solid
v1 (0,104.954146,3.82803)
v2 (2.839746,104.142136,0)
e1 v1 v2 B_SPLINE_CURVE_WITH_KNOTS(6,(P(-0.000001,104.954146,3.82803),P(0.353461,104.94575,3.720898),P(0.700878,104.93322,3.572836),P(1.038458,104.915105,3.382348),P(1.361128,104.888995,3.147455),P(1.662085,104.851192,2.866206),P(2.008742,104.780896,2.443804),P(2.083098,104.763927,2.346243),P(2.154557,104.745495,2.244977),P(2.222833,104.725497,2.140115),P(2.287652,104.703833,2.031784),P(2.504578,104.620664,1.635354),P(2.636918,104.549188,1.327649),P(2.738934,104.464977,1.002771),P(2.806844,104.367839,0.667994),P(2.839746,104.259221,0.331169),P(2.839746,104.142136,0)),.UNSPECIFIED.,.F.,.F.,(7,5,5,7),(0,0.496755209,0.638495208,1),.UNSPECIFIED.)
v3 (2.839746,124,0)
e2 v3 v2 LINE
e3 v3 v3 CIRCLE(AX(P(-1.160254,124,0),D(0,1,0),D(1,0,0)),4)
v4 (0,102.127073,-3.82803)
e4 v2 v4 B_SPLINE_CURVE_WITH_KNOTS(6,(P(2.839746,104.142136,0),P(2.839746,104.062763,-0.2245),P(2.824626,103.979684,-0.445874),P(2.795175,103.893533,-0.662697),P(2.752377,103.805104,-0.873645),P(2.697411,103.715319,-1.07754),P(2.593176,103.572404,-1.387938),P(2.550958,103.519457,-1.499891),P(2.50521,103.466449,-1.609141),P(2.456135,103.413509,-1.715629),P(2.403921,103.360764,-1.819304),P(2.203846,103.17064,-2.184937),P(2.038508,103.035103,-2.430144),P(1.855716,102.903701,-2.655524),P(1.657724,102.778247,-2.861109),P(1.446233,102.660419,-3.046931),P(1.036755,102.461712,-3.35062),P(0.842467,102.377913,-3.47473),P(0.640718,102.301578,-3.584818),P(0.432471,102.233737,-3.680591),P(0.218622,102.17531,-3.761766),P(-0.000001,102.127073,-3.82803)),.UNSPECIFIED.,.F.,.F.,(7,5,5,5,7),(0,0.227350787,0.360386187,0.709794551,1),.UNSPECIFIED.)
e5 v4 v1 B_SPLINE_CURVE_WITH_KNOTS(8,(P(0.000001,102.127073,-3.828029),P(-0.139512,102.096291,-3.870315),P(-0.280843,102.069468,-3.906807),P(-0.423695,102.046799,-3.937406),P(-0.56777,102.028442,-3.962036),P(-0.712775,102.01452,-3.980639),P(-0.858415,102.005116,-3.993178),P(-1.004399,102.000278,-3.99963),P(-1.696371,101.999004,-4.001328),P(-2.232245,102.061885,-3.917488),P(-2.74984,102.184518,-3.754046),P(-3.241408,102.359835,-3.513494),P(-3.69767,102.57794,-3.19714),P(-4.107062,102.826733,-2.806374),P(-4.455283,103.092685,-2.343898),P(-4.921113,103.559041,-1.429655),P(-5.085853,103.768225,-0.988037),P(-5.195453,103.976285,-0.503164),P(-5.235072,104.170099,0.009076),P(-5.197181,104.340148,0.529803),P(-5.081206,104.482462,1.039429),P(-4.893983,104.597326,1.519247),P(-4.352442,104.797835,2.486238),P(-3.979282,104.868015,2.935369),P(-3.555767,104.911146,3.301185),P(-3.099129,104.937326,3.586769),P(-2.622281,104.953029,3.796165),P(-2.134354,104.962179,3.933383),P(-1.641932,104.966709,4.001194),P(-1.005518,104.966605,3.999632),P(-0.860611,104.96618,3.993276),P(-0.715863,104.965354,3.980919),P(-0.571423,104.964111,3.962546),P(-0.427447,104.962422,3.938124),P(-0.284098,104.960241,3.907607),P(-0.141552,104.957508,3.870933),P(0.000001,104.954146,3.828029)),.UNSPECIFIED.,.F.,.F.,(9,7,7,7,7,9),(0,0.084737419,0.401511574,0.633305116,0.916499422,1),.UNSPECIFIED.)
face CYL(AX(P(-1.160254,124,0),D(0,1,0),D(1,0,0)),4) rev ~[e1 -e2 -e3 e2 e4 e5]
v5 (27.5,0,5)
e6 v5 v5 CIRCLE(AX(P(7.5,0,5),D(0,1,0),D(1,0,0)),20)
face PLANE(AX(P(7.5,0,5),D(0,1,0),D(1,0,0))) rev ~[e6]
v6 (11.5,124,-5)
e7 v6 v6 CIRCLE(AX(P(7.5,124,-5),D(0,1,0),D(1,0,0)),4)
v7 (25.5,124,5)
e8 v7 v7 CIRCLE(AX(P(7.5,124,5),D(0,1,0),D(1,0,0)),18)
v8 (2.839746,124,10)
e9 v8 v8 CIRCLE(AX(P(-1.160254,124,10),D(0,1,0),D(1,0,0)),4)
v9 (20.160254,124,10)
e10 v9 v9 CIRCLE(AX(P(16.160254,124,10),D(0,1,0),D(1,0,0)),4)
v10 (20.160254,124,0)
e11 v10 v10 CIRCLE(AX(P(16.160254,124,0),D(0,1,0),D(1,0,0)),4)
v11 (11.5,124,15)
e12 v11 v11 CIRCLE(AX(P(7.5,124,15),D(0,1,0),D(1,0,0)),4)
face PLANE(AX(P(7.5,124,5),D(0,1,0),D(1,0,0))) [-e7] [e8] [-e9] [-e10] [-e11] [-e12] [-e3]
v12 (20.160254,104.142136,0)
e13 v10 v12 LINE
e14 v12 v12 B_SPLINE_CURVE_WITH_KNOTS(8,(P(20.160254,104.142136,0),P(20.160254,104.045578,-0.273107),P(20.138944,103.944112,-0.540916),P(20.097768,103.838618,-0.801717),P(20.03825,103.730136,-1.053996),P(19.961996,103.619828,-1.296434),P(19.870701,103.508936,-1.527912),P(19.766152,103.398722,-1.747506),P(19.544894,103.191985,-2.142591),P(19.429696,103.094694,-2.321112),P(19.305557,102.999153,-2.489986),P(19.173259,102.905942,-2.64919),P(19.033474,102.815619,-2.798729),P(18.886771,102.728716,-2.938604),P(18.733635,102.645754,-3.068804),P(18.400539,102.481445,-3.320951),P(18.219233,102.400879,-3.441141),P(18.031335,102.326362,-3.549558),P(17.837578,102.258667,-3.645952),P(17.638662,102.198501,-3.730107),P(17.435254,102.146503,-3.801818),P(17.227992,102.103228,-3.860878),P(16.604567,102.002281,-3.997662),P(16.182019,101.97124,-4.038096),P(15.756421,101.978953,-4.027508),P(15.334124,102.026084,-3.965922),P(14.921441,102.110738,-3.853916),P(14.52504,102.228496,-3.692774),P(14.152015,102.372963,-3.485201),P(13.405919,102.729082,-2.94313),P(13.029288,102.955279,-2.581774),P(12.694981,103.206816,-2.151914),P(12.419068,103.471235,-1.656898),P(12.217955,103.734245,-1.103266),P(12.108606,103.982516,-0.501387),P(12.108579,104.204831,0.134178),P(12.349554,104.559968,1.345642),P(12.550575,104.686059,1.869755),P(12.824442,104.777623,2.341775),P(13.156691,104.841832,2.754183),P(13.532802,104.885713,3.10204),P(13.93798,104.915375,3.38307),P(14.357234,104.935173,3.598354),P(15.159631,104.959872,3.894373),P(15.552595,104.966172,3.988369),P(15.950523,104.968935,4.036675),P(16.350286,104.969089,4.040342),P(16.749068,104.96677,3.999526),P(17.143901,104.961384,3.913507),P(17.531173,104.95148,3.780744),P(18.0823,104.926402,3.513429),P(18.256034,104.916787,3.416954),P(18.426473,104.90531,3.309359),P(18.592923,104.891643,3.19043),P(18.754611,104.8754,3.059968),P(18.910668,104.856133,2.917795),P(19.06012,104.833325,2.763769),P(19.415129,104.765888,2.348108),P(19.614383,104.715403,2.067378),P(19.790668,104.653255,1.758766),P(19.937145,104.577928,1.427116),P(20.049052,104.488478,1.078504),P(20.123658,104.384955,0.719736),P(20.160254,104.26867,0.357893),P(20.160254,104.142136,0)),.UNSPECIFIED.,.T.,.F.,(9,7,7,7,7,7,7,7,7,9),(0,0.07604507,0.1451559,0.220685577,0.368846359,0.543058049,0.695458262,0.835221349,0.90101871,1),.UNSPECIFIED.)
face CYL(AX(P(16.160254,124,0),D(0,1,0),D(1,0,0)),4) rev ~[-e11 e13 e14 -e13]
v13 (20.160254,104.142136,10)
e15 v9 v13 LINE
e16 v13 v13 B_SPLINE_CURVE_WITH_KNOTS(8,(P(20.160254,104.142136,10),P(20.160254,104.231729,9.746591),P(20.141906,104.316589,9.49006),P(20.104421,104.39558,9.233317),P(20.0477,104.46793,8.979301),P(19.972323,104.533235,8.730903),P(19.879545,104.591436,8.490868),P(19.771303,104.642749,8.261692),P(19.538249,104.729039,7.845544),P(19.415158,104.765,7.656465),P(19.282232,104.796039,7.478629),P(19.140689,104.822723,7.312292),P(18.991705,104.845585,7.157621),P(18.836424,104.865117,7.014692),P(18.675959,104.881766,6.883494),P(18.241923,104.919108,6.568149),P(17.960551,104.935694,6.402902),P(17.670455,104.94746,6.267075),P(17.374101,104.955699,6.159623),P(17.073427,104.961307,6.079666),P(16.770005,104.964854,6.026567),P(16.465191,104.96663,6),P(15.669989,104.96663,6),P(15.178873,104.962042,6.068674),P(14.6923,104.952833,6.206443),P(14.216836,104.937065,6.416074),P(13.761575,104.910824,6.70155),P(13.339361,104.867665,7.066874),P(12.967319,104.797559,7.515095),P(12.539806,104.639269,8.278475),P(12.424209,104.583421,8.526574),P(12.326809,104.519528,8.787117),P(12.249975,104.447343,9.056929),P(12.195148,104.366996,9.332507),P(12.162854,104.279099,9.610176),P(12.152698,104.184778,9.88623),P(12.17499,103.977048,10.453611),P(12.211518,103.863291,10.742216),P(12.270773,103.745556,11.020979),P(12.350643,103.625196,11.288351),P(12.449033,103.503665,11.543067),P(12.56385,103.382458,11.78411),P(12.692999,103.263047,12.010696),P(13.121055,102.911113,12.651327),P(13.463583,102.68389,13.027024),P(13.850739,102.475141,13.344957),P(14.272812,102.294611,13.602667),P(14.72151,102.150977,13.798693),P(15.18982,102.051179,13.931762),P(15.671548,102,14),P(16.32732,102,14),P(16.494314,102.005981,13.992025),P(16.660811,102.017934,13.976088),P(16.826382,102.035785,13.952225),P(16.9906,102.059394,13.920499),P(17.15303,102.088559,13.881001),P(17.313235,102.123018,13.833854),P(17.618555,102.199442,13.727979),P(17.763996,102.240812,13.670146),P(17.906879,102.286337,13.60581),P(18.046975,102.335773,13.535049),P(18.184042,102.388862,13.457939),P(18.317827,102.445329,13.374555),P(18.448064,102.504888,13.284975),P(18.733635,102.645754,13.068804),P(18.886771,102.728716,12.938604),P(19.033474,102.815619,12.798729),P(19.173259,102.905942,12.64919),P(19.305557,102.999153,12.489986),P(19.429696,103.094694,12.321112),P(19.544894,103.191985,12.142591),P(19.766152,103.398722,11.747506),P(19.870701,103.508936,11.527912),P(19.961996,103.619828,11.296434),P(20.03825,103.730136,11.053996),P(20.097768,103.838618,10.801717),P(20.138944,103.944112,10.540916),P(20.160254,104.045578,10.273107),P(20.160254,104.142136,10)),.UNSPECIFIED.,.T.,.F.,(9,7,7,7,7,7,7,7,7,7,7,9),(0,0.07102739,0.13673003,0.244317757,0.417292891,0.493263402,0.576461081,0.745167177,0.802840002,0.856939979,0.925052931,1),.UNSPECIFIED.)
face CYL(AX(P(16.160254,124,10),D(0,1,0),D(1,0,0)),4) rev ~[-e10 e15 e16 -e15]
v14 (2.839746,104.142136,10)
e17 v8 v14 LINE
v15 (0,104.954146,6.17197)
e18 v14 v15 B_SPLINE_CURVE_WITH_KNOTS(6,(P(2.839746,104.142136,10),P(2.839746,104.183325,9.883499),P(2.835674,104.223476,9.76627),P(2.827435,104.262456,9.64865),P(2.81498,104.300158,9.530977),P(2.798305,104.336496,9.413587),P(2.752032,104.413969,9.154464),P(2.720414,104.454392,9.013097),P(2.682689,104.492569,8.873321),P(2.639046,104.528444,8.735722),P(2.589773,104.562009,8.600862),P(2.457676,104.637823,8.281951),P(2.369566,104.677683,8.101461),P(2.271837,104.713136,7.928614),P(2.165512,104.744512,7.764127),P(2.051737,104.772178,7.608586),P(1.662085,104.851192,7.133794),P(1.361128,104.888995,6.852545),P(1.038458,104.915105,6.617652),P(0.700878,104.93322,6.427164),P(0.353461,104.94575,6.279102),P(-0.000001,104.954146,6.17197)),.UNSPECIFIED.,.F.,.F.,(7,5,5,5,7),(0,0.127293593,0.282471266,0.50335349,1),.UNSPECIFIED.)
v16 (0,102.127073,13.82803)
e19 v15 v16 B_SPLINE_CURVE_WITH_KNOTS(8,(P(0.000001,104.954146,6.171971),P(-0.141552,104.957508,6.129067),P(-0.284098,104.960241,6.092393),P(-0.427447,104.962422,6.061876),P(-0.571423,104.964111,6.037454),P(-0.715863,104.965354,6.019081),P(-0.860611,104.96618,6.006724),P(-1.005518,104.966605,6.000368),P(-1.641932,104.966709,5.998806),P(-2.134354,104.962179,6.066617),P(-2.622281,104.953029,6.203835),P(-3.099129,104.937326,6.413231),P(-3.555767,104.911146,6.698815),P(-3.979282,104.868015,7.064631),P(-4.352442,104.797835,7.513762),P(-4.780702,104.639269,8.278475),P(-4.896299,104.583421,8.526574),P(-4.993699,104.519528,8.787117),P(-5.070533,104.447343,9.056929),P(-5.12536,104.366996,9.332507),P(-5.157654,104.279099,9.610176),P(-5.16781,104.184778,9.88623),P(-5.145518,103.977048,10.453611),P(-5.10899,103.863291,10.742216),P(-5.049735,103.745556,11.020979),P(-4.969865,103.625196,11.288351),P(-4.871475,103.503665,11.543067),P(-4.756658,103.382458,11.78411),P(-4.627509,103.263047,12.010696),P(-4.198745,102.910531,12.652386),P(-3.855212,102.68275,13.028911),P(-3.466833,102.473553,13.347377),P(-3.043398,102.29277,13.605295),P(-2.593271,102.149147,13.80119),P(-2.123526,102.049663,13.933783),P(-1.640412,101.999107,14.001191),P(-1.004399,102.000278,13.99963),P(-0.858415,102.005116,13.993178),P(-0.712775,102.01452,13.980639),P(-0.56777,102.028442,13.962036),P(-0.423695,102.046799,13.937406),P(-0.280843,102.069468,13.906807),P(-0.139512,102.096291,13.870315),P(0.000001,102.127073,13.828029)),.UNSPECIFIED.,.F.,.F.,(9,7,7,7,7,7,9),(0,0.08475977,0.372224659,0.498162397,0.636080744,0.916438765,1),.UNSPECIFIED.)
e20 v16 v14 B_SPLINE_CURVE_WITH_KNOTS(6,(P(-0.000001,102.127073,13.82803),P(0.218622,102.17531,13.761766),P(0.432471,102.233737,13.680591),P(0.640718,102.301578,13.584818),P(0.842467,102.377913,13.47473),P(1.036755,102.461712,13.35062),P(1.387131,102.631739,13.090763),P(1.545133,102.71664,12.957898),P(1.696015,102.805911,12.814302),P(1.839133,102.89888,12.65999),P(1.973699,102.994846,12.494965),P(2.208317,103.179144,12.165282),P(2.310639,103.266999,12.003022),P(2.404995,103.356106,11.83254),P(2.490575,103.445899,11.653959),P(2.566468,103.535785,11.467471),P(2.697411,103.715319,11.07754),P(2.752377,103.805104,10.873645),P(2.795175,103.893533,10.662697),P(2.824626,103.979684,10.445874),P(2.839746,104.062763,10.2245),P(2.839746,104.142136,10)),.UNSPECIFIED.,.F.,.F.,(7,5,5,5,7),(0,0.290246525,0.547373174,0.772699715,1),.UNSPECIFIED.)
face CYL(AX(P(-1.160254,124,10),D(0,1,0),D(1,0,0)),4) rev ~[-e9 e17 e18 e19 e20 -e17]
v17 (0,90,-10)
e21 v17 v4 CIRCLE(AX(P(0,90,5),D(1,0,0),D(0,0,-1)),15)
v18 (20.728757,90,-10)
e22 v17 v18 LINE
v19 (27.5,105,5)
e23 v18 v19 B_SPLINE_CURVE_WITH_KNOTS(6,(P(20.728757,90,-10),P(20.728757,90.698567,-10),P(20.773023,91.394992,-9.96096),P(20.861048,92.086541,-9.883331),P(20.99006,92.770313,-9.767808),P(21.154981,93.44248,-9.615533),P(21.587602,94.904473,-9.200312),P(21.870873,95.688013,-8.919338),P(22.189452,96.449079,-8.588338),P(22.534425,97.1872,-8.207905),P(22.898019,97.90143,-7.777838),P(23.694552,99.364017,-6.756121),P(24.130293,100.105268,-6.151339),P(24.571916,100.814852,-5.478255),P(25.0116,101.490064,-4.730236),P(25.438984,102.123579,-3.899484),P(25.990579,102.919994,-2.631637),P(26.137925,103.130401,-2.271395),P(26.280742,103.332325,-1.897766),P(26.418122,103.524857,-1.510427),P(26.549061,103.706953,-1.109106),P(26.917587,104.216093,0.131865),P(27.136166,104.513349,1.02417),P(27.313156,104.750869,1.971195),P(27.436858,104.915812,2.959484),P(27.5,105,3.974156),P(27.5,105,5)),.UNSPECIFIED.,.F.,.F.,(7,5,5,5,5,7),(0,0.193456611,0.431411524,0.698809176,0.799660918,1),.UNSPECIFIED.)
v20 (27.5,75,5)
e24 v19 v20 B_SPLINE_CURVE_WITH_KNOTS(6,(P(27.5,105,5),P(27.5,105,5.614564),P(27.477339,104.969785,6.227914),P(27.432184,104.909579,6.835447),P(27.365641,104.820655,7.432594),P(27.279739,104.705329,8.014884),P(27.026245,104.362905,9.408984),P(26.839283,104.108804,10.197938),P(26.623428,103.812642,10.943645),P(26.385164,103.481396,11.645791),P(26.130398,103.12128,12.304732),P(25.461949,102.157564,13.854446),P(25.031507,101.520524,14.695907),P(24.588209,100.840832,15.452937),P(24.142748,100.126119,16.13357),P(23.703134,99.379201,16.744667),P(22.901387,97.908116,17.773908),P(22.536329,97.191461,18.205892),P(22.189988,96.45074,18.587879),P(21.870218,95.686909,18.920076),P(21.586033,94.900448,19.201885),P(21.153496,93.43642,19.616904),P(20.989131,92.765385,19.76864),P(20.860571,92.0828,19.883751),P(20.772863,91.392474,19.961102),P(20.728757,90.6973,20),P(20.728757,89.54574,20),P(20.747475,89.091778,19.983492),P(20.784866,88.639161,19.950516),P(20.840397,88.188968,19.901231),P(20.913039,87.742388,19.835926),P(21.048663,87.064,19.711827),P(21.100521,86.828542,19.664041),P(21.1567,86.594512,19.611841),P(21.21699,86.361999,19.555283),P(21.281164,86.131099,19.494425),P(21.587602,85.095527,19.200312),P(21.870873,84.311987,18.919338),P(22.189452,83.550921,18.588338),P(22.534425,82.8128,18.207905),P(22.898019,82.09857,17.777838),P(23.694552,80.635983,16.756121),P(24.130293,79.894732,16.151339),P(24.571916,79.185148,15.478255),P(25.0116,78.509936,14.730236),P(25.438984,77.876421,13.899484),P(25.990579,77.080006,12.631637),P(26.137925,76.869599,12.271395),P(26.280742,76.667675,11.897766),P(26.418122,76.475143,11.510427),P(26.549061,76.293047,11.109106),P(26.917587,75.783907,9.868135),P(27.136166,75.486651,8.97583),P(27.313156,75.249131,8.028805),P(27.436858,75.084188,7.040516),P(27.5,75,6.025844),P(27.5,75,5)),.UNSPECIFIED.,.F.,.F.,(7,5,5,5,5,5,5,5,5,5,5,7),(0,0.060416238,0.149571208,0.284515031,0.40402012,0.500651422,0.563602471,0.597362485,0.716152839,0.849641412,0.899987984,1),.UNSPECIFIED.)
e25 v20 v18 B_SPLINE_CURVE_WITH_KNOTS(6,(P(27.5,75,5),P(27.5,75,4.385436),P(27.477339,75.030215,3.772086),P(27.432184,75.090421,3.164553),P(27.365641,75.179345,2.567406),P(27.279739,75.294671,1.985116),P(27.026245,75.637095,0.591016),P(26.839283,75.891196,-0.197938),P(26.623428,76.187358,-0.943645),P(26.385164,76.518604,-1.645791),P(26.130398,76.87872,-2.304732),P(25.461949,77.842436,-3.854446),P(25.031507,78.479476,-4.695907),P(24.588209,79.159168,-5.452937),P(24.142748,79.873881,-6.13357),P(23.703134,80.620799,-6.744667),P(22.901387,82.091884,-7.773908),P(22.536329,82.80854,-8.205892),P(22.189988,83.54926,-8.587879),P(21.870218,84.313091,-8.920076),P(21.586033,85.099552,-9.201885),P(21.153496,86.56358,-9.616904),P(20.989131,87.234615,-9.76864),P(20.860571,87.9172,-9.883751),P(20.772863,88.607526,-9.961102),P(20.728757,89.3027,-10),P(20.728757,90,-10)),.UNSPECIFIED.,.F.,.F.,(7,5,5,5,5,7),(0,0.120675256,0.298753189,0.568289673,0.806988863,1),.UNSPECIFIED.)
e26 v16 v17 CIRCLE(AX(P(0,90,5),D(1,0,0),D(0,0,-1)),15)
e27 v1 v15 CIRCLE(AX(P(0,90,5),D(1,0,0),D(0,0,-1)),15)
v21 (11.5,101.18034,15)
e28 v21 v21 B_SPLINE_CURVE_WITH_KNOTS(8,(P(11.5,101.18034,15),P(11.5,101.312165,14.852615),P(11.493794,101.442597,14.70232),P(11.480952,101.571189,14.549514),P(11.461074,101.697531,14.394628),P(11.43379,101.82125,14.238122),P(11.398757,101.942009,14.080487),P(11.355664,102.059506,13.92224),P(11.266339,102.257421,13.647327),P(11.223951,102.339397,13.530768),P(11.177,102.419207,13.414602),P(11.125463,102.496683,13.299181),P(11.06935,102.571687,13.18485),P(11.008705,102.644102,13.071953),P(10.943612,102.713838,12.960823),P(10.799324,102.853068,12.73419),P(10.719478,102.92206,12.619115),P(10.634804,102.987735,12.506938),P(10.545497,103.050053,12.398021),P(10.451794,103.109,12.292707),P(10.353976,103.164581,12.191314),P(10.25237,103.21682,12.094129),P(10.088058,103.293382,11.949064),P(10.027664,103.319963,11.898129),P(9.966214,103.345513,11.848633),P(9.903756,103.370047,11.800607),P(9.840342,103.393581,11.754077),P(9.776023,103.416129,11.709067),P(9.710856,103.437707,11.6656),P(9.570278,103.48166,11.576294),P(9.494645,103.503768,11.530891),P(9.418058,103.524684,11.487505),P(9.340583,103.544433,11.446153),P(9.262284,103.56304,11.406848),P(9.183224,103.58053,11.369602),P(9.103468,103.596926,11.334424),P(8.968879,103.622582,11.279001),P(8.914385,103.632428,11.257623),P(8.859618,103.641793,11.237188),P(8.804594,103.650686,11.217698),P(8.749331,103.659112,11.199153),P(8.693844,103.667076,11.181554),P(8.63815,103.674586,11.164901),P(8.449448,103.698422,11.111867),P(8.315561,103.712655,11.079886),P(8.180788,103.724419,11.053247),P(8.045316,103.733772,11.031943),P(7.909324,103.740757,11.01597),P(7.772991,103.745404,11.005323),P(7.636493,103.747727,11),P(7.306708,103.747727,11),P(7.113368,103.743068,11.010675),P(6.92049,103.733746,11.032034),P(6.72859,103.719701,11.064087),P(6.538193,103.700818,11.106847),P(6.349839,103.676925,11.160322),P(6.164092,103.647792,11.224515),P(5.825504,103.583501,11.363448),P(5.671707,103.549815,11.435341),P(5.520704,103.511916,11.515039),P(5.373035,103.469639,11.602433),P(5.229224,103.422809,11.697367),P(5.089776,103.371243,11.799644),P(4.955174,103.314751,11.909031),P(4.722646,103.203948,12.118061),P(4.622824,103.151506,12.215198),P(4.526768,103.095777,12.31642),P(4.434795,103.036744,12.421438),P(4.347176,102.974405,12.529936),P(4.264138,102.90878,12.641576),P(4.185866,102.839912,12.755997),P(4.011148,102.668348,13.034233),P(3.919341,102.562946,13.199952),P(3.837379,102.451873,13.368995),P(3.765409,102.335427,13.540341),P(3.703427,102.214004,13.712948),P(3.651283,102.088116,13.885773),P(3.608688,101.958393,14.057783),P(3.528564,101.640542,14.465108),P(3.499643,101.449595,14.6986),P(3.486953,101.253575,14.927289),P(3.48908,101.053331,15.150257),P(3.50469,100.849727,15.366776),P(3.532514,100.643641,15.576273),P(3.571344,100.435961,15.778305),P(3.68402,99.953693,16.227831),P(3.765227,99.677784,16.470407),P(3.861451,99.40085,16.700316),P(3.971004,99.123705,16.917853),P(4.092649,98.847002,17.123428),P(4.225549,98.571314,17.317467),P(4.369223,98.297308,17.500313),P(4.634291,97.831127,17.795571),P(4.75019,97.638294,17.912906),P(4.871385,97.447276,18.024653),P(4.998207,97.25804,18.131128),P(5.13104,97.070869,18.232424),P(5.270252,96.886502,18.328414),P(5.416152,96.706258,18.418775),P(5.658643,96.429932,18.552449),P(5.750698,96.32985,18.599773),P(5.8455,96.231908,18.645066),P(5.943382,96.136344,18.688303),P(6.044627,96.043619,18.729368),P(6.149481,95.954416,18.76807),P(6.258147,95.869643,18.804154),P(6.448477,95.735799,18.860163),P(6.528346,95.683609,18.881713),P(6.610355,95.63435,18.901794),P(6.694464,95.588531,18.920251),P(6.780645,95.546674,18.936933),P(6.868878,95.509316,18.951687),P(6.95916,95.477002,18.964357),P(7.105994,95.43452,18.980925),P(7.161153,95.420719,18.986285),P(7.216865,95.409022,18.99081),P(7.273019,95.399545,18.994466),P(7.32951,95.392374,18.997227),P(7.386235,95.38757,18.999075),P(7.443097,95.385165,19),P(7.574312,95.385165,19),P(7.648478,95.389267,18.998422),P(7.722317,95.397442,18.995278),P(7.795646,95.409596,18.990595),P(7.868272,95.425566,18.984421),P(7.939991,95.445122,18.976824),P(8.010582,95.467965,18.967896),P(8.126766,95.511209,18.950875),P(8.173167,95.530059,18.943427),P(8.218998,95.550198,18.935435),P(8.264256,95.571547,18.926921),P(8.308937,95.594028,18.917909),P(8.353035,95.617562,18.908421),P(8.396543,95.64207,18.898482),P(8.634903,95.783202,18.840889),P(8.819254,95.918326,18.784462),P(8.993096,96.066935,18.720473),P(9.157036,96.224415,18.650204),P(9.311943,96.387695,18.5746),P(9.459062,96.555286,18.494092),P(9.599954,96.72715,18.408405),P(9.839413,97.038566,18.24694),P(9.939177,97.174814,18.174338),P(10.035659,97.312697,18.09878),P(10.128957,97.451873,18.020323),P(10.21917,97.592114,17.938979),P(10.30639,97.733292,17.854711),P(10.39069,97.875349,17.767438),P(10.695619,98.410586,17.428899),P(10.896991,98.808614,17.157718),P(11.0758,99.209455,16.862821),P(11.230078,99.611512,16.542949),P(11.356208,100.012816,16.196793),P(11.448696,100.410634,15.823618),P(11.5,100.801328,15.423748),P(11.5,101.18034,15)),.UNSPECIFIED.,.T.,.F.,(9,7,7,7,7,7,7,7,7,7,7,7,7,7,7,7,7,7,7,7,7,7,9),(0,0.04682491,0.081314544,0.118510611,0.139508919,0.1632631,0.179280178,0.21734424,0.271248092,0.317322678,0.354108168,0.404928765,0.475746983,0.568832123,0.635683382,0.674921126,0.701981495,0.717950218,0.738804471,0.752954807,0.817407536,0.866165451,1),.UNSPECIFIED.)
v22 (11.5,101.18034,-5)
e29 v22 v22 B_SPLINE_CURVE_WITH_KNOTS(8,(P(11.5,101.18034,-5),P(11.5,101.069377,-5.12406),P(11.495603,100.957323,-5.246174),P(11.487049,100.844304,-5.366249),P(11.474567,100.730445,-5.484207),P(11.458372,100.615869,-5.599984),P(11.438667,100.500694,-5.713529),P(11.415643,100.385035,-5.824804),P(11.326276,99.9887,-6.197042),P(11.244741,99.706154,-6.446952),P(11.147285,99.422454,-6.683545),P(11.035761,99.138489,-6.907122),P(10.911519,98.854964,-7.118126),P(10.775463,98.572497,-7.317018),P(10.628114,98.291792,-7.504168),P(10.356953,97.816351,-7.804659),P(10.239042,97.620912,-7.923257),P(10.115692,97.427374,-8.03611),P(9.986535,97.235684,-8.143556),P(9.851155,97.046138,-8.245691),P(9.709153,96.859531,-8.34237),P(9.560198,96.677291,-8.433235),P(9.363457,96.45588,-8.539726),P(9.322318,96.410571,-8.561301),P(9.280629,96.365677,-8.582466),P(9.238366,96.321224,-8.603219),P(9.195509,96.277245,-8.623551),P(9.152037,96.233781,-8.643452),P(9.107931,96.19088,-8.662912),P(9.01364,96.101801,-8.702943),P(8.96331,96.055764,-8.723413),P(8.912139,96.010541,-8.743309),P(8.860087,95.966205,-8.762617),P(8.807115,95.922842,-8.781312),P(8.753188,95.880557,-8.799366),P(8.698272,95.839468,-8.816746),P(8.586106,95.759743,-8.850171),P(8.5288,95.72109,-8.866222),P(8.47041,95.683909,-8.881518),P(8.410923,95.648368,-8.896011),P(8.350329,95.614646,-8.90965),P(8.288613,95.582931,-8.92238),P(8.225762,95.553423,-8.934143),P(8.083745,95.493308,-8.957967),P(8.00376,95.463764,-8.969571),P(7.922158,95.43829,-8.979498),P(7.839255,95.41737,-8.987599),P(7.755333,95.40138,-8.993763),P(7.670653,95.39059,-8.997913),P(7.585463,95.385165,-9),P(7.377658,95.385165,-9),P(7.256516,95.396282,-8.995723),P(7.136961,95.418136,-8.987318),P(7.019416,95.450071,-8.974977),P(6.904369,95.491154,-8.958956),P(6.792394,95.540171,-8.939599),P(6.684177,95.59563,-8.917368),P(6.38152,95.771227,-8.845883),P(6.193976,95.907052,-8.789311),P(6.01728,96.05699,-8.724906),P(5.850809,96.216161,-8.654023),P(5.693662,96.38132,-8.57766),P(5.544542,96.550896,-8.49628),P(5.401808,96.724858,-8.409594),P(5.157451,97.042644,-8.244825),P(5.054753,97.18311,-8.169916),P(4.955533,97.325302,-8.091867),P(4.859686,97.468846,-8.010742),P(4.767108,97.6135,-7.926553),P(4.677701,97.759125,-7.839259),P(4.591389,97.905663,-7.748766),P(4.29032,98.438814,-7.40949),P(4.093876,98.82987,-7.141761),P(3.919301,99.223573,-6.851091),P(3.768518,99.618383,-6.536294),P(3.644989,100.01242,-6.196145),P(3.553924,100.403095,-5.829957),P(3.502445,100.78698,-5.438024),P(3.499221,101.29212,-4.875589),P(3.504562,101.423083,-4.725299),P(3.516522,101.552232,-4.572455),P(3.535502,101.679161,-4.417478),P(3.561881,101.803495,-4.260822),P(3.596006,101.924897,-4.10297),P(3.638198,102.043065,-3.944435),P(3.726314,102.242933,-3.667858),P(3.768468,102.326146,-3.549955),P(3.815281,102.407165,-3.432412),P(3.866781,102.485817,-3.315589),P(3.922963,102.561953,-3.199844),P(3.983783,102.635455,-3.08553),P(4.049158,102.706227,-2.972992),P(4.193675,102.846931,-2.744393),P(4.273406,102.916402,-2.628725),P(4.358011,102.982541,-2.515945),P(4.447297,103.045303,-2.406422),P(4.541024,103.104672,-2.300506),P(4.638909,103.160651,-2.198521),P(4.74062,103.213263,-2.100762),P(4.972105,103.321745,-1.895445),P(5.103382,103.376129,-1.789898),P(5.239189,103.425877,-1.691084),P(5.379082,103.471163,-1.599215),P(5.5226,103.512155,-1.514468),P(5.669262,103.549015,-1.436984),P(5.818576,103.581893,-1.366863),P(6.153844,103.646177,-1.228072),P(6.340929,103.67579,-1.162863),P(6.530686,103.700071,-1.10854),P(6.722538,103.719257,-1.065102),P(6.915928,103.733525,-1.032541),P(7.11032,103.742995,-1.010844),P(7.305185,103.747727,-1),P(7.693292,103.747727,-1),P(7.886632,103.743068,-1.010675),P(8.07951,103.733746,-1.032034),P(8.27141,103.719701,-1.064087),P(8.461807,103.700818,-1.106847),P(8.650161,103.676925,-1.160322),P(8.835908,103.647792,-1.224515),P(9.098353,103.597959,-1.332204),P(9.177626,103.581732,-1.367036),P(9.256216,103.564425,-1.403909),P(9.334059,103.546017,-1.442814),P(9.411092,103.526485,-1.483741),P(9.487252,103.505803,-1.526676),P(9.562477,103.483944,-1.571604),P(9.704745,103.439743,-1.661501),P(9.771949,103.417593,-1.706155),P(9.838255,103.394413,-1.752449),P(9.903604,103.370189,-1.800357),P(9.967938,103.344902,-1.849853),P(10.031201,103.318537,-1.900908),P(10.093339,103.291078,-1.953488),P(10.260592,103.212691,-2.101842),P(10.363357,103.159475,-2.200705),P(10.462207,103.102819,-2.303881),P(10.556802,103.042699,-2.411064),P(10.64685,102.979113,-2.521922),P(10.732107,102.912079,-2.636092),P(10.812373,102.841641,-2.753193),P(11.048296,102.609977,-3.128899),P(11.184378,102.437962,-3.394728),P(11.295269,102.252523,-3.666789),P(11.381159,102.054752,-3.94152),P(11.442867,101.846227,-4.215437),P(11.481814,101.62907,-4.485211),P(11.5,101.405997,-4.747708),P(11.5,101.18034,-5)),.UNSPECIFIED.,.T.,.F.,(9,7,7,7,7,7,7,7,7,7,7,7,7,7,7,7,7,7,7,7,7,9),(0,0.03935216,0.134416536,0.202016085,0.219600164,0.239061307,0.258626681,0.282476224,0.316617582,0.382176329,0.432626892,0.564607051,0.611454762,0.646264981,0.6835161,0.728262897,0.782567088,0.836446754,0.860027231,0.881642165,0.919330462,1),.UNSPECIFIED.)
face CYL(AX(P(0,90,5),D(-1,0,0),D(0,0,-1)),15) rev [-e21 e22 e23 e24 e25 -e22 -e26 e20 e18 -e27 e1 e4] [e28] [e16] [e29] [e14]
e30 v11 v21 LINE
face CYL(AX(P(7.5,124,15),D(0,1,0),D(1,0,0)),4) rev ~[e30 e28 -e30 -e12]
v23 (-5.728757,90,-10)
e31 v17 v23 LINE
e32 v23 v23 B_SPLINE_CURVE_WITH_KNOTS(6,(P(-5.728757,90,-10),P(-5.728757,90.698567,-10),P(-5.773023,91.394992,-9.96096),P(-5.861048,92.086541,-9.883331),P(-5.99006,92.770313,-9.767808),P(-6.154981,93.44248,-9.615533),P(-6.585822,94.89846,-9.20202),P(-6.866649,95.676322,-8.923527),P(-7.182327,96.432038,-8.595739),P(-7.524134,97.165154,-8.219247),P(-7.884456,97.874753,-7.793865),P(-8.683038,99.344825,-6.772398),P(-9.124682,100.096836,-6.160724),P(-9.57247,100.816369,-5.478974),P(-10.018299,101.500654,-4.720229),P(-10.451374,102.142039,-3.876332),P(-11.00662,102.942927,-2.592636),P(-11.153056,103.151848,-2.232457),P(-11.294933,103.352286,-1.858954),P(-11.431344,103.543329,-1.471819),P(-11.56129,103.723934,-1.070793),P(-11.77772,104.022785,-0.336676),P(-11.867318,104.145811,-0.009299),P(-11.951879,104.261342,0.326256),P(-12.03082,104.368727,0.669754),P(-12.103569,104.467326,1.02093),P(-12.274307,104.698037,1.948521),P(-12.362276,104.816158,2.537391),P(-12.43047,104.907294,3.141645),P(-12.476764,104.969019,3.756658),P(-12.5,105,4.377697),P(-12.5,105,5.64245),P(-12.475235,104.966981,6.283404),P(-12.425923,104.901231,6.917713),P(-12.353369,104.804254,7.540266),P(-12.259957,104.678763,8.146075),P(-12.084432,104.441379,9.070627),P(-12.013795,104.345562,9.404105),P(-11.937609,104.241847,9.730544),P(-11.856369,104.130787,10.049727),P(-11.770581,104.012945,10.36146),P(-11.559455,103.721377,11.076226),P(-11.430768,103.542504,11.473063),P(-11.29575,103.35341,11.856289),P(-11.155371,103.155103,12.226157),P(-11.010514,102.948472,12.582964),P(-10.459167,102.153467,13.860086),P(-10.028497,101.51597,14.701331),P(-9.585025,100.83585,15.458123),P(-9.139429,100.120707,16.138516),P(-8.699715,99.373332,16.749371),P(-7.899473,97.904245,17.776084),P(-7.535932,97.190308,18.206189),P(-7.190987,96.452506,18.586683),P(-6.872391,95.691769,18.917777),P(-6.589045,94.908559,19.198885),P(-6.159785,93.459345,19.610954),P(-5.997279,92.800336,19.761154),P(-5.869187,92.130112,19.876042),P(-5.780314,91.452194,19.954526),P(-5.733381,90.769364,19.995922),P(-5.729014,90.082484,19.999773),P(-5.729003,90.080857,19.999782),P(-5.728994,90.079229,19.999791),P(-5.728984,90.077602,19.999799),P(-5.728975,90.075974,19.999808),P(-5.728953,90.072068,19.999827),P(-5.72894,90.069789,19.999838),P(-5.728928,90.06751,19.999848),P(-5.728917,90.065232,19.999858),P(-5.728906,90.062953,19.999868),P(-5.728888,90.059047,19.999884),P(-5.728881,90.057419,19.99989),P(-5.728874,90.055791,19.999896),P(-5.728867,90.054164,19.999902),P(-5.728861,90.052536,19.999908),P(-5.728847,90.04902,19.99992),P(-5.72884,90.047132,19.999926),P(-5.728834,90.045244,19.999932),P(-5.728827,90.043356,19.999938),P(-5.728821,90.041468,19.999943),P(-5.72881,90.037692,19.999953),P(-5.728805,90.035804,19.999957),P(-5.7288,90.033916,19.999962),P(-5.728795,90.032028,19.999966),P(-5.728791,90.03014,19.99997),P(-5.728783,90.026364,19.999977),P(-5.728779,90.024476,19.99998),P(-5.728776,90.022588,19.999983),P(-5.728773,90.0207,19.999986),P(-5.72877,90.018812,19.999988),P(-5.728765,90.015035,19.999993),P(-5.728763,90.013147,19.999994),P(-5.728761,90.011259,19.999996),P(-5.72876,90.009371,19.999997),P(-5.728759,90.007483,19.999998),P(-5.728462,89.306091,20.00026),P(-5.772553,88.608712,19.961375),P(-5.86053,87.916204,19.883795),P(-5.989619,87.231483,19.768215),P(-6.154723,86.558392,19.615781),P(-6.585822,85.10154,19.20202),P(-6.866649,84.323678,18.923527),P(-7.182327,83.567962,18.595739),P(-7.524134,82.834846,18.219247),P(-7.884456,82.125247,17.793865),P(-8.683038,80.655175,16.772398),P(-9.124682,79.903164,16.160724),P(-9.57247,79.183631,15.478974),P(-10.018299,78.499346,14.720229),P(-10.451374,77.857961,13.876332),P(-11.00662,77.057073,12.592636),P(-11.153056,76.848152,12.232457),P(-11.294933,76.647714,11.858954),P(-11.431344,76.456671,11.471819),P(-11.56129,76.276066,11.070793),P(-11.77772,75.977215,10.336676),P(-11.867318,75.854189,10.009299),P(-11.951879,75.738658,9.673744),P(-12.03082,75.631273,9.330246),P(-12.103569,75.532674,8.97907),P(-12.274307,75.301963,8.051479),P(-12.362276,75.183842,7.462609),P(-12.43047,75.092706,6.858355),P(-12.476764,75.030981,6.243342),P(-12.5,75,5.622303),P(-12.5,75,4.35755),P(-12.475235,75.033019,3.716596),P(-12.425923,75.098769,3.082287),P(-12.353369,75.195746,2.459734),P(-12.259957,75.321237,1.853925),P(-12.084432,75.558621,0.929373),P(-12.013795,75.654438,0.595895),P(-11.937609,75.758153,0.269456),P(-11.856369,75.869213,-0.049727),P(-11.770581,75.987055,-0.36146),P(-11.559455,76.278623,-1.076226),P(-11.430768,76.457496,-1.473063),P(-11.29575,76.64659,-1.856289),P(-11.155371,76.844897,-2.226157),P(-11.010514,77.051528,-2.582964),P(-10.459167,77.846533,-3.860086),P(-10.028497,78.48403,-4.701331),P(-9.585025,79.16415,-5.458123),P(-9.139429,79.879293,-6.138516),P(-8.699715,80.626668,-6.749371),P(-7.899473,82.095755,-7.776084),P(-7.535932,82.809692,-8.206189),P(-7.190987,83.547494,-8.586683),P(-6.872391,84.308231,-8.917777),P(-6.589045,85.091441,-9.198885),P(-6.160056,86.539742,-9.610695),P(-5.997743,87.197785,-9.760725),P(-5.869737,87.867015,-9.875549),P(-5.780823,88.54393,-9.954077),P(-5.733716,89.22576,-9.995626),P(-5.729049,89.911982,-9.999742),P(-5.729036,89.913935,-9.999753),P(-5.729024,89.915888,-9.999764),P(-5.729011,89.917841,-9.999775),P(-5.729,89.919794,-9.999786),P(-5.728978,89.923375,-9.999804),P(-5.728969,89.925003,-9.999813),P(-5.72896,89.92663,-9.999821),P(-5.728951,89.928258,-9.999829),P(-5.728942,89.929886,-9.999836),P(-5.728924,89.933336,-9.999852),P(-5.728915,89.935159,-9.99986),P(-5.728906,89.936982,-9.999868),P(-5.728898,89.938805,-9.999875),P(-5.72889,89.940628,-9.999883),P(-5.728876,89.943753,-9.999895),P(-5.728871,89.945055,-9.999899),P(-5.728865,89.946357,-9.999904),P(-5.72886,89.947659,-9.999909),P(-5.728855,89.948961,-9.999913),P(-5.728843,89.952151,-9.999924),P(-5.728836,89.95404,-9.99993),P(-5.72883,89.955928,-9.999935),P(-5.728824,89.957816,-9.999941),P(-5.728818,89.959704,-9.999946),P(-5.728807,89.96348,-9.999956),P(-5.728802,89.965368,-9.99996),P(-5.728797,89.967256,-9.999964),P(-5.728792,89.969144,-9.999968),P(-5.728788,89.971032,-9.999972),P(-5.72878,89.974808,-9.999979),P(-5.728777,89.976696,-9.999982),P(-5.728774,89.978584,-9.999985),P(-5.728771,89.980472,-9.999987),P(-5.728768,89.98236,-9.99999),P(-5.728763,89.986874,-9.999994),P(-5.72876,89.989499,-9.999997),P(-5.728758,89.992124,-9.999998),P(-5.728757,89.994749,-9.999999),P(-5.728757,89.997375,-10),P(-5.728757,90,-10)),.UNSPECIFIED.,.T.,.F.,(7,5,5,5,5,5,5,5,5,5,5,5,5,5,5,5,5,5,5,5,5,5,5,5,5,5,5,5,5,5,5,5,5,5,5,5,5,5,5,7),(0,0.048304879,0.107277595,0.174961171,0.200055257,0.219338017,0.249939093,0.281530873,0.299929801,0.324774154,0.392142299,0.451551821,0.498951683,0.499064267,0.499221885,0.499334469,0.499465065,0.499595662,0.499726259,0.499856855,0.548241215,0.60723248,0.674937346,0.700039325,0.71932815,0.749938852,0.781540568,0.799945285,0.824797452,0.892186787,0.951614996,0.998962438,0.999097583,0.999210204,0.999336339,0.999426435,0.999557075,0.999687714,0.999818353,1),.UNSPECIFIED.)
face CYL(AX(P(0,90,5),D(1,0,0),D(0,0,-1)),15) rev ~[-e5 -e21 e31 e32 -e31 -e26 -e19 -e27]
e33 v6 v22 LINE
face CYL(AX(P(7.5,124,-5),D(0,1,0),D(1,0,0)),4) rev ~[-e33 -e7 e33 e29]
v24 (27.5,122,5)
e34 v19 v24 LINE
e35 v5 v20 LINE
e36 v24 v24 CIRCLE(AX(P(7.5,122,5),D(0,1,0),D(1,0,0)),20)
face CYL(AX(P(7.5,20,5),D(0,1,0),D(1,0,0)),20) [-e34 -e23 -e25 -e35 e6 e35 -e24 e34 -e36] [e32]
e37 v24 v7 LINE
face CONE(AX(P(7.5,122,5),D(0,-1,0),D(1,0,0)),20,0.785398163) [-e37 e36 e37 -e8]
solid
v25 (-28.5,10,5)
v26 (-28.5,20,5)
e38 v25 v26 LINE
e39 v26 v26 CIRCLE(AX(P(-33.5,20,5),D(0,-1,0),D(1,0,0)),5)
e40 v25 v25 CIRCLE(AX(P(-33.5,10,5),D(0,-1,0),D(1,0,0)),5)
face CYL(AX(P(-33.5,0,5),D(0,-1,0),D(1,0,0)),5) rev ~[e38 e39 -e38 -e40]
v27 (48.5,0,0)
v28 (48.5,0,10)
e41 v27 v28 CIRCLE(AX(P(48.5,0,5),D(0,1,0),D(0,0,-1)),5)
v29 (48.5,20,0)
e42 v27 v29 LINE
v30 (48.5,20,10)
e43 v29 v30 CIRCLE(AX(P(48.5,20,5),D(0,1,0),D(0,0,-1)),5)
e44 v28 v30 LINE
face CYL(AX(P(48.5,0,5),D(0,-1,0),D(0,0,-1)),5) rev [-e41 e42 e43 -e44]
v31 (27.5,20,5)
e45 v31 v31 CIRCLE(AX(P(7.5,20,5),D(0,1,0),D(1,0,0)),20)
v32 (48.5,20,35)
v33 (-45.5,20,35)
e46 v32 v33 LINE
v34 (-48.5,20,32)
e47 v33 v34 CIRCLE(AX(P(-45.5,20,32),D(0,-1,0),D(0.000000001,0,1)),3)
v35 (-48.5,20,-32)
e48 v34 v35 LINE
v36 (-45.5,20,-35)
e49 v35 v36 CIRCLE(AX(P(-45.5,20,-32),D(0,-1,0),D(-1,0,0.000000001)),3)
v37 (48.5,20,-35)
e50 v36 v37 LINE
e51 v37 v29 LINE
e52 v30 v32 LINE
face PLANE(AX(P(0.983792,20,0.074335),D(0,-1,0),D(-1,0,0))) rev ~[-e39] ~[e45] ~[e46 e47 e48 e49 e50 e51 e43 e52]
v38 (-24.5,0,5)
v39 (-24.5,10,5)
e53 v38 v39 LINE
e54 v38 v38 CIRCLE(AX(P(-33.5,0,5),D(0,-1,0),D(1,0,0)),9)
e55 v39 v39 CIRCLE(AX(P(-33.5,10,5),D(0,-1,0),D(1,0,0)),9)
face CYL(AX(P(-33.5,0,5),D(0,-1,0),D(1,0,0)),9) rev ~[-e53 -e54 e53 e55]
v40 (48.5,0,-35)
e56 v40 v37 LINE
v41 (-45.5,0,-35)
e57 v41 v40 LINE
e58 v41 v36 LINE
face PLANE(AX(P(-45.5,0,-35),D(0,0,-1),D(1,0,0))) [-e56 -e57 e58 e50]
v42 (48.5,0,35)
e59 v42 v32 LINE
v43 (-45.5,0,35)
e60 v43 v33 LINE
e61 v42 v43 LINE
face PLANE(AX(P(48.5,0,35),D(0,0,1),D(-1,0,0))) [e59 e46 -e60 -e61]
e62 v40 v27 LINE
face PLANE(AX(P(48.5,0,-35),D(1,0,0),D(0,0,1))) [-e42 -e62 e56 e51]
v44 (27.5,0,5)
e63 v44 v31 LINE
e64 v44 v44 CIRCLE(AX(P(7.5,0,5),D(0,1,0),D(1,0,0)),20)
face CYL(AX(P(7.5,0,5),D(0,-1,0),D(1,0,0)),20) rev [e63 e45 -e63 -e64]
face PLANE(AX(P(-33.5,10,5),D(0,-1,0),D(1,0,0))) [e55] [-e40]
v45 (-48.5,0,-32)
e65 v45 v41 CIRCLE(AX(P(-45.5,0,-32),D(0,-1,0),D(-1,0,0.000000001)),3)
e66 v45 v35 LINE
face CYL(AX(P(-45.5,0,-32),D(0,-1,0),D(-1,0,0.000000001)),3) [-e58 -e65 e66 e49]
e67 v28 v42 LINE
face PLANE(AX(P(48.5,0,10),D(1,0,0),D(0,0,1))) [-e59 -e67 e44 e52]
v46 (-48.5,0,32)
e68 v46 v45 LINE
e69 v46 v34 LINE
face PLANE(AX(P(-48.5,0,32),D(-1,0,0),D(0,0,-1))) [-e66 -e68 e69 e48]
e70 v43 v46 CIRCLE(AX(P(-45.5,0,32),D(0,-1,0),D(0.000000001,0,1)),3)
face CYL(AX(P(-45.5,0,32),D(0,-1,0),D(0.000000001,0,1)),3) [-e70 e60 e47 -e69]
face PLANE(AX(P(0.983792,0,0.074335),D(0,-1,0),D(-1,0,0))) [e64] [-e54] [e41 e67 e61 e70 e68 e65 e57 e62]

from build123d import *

# Parameters (mm, degrees)
SKETCH1_R                = 20
BOSS_EXTRUDE1_DEPTH      = 20
SKETCH2_R                = 5
CUT_EXTRUDE1_DEPTH       = 21
SKETCH3_R                = 9
CUT_EXTRUDE2_DEPTH       = 10
SKETCH4_R                = 20
BOSS_EXTRUDE2_DEPTH      = 104
BOSS_EXTRUDE2_DEPTH_BACK = 20
SKETCH5_R                = 15
CUT_EXTRUDE3_DEPTH       = 49.5
CUT_EXTRUDE3_DEPTH_BACK  = 49.5
CHAMFER1_SIZE            = 2
CUT_EXTRUDE4_REACH       = 126
SKETCH6_R                = 4


with BuildPart() as part:
    # Sketch1 → Boss-Extrude1 (new body)
    with BuildSketch(Plane(origin=(0, 0, 0), x_dir=(1, 0, 0), z_dir=(0, 1, 0))):
        with BuildLine():
            Line((-45.5, 35), (48.5, 35))
            Line((48.5, 35), (48.5, 0))
            ThreePointArc((48.5, 0), (43.5, -5), (48.5, -10))
            Line((48.5, -10), (48.5, -35))
            Line((48.5, -35), (-45.5, -35))
            ThreePointArc((-45.5, -35), (-47.621320344, -34.121320344), (-48.5, -32))
            Line((-48.5, -32), (-48.5, 32))
            ThreePointArc((-48.5, 32), (-47.621320344, 34.121320344), (-45.5, 35))
        make_face()
        with Locations((7.5, -5)):
            Circle(SKETCH1_R, mode=Mode.SUBTRACT)
    extrude(amount=BOSS_EXTRUDE1_DEPTH)

    # Sketch2 → Cut-Extrude1 (cut, through all)
    with BuildSketch(Plane.XZ):
        with Locations((-33.5, 5)):
            Circle(SKETCH2_R)
    extrude(amount=-CUT_EXTRUDE1_DEPTH, mode=Mode.SUBTRACT)

    # Sketch3 → Cut-Extrude2 (cut)
    with BuildSketch(Plane.XZ):
        with Locations((-33.5, 5)):
            Circle(SKETCH3_R)
    extrude(amount=-CUT_EXTRUDE2_DEPTH, mode=Mode.SUBTRACT)


with BuildPart() as body_2:
    # Sketch4 → Boss-Extrude2 (new body, two sides)
    with BuildSketch(Plane(origin=(0, 20, 0), x_dir=(1, 0, 0), z_dir=(0, 1, 0))) as boss_extrude2_sk:
        with Locations((7.5, -5)):
            Circle(SKETCH4_R)
    extrude(amount=BOSS_EXTRUDE2_DEPTH)
    extrude(boss_extrude2_sk.sketch, amount=-BOSS_EXTRUDE2_DEPTH_BACK)

    # Sketch5 → Cut-Extrude3 (cut, two sides)
    with BuildSketch(Plane(origin=(0, 0, 0), x_dir=(0, 0, -1), z_dir=(1, 0, 0))) as cut_extrude3_sk:
        with Locations((-5, 90)):
            Circle(SKETCH5_R)
    extrude(amount=CUT_EXTRUDE3_DEPTH, mode=Mode.SUBTRACT)
    extrude(cut_extrude3_sk.sketch, amount=-CUT_EXTRUDE3_DEPTH_BACK, mode=Mode.SUBTRACT)

    # Chamfer1
    chamfer1_edges = [body_2.edges().sort_by_distance(p)[0] for p in [
        (-12.5, 124, 5),
    ]]
    chamfer(chamfer1_edges, length=CHAMFER1_SIZE)

    # Sketch6 → Cut-Extrude4 (cut, up to next)
    with BuildSketch(Plane(origin=(0, 124, 0), x_dir=(1, 0, 0), z_dir=(0, 1, 0)), mode=Mode.PRIVATE) as cut_extrude4_sk1:
        with Locations((7.5, 5)):
            Circle(SKETCH6_R)
    cut_extrude4_tool1 = extrude(cut_extrude4_sk1.sketch, amount=-CUT_EXTRUDE4_REACH, mode=Mode.PRIVATE) & body_2.part
    add(cut_extrude4_tool1.solids().sort_by_distance((7.5, 124, -5))[0], mode=Mode.SUBTRACT)
    # Sketch6 → Cut-Extrude4 (cut, up to next)
    with BuildSketch(Plane(origin=(0, 124, 0), x_dir=(1, 0, 0), z_dir=(0, 1, 0)), mode=Mode.PRIVATE) as cut_extrude4_sk2:
        with Locations((16.160254038, 0)):
            Circle(SKETCH6_R)
    cut_extrude4_tool2 = extrude(cut_extrude4_sk2.sketch, amount=-CUT_EXTRUDE4_REACH, mode=Mode.PRIVATE) & body_2.part
    add(cut_extrude4_tool2.solids().sort_by_distance((16.160254, 124, 0))[0], mode=Mode.SUBTRACT)
    # Sketch6 → Cut-Extrude4 (cut, up to next)
    with BuildSketch(Plane(origin=(0, 124, 0), x_dir=(1, 0, 0), z_dir=(0, 1, 0)), mode=Mode.PRIVATE) as cut_extrude4_sk3:
        with Locations((16.160254038, -10)):
            Circle(SKETCH6_R)
    cut_extrude4_tool3 = extrude(cut_extrude4_sk3.sketch, amount=-CUT_EXTRUDE4_REACH, mode=Mode.PRIVATE) & body_2.part
    add(cut_extrude4_tool3.solids().sort_by_distance((16.160254, 124, 10))[0], mode=Mode.SUBTRACT)
    # Sketch6 → Cut-Extrude4 (cut, up to next)
    with BuildSketch(Plane(origin=(0, 124, 0), x_dir=(1, 0, 0), z_dir=(0, 1, 0)), mode=Mode.PRIVATE) as cut_extrude4_sk4:
        with Locations((7.5, -15)):
            Circle(SKETCH6_R)
    cut_extrude4_tool4 = extrude(cut_extrude4_sk4.sketch, amount=-CUT_EXTRUDE4_REACH, mode=Mode.PRIVATE) & body_2.part
    add(cut_extrude4_tool4.solids().sort_by_distance((7.5, 124, 15))[0], mode=Mode.SUBTRACT)
    # Sketch6 → Cut-Extrude4 (cut, up to next)
    with BuildSketch(Plane(origin=(0, 124, 0), x_dir=(1, 0, 0), z_dir=(0, 1, 0)), mode=Mode.PRIVATE) as cut_extrude4_sk5:
        with Locations((-1.160254038, -10)):
            Circle(SKETCH6_R)
    cut_extrude4_tool5 = extrude(cut_extrude4_sk5.sketch, amount=-CUT_EXTRUDE4_REACH, mode=Mode.PRIVATE) & body_2.part
    add(cut_extrude4_tool5.solids().sort_by_distance((-1.160254, 124, 10))[0], mode=Mode.SUBTRACT)
    # Sketch6 → Cut-Extrude4 (cut, up to next)
    with BuildSketch(Plane(origin=(0, 124, 0), x_dir=(1, 0, 0), z_dir=(0, 1, 0)), mode=Mode.PRIVATE) as cut_extrude4_sk6:
        with Locations((-1.160254038, 0)):
            Circle(SKETCH6_R)
    cut_extrude4_tool6 = extrude(cut_extrude4_sk6.sketch, amount=-CUT_EXTRUDE4_REACH, mode=Mode.PRIVATE) & body_2.part
    add(cut_extrude4_tool6.solids().sort_by_distance((-1.160254, 124, 0))[0], mode=Mode.SUBTRACT)


solid = Compound([part.part, body_2.part])
